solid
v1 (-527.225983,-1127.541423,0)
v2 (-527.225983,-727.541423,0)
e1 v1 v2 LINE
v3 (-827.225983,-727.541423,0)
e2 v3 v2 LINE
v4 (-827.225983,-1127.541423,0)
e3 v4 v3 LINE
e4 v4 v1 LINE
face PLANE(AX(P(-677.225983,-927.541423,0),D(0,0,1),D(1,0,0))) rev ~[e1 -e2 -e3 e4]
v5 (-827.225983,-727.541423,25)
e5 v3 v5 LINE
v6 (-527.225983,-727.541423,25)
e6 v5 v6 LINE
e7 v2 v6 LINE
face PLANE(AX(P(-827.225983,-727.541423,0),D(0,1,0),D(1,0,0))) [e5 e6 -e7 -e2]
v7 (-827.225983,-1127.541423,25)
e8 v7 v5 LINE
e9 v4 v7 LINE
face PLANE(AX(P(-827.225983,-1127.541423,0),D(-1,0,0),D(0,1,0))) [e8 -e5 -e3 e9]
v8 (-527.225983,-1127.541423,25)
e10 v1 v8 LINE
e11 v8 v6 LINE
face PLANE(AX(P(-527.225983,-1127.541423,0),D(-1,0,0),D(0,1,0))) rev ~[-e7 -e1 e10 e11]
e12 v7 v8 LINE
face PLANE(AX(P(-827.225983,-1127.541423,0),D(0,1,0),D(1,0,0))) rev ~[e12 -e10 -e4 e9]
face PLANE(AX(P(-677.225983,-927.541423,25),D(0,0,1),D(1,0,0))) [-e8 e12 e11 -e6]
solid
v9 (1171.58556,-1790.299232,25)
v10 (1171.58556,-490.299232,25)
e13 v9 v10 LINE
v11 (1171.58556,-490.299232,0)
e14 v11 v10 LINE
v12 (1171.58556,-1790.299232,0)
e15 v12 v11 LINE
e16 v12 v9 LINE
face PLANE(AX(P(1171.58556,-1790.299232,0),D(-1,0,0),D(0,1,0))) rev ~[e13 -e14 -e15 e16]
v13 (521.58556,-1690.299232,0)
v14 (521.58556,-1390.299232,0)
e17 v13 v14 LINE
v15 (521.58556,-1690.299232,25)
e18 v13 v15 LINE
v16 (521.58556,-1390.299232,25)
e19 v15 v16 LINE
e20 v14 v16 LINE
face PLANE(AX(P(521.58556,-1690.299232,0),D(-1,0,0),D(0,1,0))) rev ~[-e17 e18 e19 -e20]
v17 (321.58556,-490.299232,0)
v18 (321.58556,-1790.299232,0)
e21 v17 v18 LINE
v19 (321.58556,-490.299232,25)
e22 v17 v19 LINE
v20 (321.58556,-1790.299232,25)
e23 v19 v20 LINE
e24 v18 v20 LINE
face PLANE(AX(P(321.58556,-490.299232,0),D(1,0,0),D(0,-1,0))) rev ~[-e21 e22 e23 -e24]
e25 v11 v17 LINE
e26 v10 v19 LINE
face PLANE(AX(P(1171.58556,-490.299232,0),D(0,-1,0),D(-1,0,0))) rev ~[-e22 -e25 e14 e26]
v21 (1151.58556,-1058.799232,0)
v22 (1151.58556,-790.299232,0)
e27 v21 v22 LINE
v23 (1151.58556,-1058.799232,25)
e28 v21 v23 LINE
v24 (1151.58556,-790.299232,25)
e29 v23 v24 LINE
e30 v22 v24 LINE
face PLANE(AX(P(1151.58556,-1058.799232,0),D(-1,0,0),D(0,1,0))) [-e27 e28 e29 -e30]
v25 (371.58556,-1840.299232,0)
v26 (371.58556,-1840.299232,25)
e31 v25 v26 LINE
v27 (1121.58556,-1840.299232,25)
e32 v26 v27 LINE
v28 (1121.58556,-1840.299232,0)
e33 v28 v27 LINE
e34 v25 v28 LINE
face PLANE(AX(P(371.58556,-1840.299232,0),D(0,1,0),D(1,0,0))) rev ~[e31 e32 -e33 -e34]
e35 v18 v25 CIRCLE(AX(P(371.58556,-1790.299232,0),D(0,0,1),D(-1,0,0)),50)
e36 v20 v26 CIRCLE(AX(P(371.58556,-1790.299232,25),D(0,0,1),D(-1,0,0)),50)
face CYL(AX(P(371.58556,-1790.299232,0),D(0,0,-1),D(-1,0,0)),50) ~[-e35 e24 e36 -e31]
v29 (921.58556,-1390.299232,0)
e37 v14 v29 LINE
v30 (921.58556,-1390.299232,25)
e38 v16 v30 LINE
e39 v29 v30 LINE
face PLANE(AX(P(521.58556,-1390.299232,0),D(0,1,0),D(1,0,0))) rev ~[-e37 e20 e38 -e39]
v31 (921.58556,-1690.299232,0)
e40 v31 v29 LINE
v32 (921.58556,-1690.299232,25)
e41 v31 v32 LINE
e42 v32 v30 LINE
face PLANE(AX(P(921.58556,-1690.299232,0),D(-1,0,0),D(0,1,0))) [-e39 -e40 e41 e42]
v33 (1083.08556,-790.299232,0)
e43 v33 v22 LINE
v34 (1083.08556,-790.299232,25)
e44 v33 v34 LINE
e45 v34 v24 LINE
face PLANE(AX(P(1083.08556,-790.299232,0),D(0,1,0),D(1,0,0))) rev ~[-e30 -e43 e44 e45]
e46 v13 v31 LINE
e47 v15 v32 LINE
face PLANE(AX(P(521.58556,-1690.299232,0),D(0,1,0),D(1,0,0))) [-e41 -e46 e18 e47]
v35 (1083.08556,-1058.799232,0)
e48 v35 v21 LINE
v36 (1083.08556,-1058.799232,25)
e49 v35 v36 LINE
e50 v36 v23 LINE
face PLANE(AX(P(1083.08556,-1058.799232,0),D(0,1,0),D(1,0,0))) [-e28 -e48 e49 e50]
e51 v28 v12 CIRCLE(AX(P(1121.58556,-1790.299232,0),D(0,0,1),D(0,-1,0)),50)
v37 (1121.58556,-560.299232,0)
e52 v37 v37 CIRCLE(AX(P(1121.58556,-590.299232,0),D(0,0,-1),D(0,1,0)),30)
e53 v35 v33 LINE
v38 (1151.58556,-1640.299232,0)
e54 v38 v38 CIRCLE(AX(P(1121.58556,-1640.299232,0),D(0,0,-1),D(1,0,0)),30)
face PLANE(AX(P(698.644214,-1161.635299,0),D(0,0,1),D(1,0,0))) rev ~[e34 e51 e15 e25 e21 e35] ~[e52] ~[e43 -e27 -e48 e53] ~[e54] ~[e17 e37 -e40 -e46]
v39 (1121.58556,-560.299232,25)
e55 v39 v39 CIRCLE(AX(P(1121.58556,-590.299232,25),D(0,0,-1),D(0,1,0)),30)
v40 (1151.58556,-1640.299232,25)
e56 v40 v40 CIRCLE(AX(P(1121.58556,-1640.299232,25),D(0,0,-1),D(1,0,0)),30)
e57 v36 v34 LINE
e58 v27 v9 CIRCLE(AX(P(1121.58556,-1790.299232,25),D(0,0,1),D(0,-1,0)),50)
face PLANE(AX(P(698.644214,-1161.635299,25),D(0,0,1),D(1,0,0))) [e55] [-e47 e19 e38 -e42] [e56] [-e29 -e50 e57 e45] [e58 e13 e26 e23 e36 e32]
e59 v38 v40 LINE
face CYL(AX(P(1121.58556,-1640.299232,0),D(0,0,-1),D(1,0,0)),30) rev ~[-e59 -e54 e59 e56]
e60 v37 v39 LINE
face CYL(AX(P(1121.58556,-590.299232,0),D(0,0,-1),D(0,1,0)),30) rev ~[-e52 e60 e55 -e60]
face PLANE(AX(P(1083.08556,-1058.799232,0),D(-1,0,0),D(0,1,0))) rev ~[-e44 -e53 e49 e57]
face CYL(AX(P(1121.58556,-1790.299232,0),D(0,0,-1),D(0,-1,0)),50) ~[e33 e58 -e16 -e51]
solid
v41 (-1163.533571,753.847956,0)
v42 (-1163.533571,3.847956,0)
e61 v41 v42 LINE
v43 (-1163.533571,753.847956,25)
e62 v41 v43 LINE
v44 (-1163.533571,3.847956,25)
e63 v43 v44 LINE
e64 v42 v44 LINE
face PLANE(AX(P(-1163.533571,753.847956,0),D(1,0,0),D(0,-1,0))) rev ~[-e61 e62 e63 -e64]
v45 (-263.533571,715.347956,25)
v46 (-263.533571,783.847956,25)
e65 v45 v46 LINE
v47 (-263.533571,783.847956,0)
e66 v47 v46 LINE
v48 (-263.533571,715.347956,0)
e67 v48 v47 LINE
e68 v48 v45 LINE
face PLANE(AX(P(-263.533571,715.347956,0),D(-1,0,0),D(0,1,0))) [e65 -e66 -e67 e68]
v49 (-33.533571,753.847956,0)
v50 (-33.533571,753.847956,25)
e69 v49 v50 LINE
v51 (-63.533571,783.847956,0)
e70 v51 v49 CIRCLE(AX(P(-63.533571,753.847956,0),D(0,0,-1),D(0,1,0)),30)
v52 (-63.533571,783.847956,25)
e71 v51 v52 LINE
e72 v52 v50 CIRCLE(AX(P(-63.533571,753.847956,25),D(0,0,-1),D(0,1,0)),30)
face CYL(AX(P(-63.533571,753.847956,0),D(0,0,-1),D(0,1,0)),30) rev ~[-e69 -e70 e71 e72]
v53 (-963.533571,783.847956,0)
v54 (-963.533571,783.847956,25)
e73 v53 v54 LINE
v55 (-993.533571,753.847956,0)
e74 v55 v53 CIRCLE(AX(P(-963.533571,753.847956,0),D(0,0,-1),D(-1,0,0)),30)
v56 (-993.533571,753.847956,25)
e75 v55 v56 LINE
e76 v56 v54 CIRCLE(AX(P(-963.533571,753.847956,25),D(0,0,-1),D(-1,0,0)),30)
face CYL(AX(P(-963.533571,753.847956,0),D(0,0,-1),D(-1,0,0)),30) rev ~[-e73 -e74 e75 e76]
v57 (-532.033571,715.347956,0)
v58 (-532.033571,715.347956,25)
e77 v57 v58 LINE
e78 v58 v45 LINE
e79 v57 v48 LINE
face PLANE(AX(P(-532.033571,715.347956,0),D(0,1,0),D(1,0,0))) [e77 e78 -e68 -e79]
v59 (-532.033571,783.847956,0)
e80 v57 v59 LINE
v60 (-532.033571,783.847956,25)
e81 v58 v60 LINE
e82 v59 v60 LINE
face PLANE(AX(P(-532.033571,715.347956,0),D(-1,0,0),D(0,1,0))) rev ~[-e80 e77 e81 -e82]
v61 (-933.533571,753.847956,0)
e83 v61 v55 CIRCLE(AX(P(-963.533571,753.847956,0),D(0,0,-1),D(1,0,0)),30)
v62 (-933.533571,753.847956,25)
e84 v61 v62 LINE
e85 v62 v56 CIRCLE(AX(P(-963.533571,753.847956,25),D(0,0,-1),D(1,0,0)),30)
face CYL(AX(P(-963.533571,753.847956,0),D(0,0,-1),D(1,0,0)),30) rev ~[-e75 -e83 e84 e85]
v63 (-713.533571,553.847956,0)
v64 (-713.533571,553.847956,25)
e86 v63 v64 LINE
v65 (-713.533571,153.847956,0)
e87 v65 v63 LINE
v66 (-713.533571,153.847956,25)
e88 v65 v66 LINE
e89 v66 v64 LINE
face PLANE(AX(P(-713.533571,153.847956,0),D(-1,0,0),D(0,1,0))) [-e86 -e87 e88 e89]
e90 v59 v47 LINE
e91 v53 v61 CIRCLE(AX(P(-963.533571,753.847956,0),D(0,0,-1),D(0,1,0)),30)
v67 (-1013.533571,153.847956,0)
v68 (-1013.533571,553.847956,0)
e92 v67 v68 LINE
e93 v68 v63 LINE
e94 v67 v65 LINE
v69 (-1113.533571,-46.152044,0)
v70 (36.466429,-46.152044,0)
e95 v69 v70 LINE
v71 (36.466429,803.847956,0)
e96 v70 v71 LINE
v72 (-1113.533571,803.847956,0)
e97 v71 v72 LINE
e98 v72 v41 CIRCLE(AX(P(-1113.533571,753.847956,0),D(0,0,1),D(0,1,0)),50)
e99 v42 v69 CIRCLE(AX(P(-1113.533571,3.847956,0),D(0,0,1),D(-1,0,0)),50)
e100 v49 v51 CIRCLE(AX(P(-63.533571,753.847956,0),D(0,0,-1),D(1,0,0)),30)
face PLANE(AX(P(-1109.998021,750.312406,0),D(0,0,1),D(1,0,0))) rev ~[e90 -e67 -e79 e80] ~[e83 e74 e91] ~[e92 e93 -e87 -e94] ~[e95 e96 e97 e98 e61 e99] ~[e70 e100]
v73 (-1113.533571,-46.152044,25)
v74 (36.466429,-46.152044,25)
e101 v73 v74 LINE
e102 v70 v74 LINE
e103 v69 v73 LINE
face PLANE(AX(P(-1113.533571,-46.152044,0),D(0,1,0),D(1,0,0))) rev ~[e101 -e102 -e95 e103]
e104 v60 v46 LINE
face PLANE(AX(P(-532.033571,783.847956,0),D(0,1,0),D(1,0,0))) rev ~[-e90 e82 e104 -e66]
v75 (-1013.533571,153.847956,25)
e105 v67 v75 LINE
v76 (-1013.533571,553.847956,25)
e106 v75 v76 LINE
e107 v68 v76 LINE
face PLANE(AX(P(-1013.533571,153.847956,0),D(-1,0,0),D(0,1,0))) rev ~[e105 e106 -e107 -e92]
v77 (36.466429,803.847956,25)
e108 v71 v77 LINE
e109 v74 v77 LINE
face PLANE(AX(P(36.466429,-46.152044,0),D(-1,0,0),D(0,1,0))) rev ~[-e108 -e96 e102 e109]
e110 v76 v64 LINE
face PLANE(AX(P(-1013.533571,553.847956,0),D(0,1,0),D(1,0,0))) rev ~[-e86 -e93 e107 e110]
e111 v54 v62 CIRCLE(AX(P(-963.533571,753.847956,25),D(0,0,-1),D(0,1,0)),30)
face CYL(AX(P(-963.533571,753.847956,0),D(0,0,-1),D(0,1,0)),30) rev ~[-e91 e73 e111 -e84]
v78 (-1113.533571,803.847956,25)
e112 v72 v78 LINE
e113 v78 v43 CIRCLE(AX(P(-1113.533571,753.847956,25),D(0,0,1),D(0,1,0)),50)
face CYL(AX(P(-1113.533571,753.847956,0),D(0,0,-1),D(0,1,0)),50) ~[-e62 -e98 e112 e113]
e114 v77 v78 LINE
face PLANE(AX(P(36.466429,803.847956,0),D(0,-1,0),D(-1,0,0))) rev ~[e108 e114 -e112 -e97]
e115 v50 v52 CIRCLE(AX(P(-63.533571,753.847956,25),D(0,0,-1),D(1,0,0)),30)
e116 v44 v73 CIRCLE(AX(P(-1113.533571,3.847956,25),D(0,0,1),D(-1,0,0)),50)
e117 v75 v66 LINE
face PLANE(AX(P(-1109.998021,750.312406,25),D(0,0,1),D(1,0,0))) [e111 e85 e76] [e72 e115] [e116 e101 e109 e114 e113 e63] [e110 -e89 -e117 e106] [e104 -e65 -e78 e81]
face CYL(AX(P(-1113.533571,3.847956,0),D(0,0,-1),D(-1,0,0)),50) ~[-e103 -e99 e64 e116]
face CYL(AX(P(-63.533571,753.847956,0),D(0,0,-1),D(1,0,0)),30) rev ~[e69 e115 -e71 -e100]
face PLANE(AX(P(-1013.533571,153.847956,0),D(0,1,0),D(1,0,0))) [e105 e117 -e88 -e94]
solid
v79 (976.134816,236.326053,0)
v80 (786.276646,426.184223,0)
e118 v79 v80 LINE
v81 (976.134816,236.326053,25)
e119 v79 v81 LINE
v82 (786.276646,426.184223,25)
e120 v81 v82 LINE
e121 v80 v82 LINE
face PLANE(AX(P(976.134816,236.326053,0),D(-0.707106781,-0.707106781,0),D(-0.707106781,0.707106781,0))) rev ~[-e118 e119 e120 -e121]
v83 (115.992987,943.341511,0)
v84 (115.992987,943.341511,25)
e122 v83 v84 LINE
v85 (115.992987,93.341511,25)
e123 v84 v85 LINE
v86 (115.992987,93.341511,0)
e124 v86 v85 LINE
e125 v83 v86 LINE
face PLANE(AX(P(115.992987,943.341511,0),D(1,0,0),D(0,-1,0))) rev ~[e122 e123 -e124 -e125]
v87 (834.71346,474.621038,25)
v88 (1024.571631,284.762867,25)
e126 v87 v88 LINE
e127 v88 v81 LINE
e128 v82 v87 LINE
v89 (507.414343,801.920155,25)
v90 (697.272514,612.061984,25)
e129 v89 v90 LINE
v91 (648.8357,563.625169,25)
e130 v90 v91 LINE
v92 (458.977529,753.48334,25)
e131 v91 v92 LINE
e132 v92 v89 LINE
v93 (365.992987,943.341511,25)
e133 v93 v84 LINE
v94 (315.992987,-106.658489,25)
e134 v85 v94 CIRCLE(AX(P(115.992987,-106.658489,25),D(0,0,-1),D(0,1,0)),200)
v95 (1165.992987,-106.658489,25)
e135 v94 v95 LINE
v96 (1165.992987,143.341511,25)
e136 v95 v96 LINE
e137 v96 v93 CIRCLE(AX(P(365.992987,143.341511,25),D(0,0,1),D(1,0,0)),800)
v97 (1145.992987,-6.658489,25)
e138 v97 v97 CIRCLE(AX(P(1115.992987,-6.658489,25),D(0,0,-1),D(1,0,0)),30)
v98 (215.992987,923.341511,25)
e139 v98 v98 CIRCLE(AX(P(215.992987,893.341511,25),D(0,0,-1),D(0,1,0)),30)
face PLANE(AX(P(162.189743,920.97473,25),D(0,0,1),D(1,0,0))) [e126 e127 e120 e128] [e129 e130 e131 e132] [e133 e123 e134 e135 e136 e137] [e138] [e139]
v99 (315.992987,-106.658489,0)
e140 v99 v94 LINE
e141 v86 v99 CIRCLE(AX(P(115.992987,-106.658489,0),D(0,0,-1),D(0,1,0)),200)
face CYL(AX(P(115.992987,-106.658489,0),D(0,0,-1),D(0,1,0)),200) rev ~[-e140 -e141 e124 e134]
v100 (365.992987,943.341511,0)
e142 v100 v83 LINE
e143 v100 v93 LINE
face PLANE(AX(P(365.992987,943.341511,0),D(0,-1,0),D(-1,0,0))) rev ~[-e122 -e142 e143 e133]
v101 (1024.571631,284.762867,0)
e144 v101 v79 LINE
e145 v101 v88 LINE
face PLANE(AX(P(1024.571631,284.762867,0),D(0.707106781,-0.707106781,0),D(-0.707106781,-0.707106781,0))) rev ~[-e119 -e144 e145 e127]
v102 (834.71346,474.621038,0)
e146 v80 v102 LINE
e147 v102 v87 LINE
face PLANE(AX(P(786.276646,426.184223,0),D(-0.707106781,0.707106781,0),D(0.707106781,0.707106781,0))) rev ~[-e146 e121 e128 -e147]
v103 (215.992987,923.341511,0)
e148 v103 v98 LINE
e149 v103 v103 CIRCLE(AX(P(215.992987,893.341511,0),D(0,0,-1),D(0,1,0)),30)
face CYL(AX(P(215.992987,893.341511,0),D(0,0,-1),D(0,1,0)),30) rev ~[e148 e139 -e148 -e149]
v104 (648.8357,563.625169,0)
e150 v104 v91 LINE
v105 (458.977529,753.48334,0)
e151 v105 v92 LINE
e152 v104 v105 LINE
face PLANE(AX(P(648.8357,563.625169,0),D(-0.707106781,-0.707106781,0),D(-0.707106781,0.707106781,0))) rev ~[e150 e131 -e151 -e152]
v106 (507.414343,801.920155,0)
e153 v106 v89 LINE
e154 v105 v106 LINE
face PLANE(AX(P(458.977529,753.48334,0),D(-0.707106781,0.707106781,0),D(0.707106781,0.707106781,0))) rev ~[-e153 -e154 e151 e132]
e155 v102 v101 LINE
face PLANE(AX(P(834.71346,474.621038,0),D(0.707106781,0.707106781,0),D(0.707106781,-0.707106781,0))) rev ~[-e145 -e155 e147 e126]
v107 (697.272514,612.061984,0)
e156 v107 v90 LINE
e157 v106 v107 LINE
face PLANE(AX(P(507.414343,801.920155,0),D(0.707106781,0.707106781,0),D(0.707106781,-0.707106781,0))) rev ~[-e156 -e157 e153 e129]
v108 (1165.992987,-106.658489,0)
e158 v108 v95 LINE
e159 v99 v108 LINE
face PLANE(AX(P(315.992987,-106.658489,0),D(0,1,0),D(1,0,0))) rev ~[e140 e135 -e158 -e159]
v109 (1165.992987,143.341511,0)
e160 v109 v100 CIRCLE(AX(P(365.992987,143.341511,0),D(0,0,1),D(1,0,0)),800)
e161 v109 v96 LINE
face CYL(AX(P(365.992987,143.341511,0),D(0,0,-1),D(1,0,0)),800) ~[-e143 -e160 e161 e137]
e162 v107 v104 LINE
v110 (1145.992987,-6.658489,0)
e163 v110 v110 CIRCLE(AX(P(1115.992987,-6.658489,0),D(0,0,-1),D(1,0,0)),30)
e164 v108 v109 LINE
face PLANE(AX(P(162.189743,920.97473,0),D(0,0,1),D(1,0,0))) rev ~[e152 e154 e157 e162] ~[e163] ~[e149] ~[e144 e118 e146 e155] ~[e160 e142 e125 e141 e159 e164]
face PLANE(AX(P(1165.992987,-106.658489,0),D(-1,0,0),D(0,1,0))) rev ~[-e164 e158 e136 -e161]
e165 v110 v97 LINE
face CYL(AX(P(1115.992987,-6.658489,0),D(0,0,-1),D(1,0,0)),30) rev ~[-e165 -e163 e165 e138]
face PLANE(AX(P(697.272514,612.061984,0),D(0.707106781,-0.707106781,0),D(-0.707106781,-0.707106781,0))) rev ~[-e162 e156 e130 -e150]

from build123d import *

# Parameters (mm, degrees)
F0_W     = 268.5
F0_H     = 68.5
F0_W_2   = 300
F0_H_2   = 400
F1_DEPTH = 25
F0_W_3   = 400
F0_H_3   = 300
F0_W_4   = 68.5
F0_H_4   = 268.5


with BuildPart() as f1:
    # F0 (on Top) → F1 (new body)
    with BuildSketch(Plane.XY):
        with BuildLine():
            Line((-1063.5335713625, 803.8479559124), (-1113.5335713625, 803.8479559124))
            ThreePointArc((-1113.5335713625, 803.8479559124), (-1148.8889104218, 789.2032949717), (-1163.5335713625, 753.8479559124))
            Line((-1163.5335713625, 753.8479559124), (-1163.5335713625, 703.8479559124))
            Line((-1163.5335713625, 703.8479559124), (-1063.5335713625, 703.8479559124))
            Line((-1063.5335713625, 703.8479559124), (-1063.5335713625, 753.8479559124))
            Line((-1063.5335713625, 753.8479559124), (-1063.5335713625, 803.8479559124))
        make_face()
        with BuildLine():
            Line((-963.5335713625, 803.8479559124), (-1063.5335713625, 803.8479559124))
            Line((-1063.5335713625, 803.8479559124), (-1063.5335713625, 753.8479559124))
            Line((-1063.5335713625, 753.8479559124), (-993.5335713625, 753.8479559124))
            ThreePointArc((-993.5335713625, 753.8479559124), (-984.7467747981, 775.0611593479), (-963.5335713625, 783.8479559124))
            Line((-963.5335713625, 783.8479559124), (-963.5335713625, 803.8479559124))
        make_face()
        with BuildLine():
            Line((-63.5335713625, 803.8479559124), (-963.5335713625, 803.8479559124))
            Line((-963.5335713625, 803.8479559124), (-963.5335713625, 783.8479559124))
            ThreePointArc((-963.5335713625, 783.8479559124), (-942.3203679269, 775.0611593479), (-933.5335713625, 753.8479559124))
            ThreePointArc((-933.5335713625, 753.8479559124), (-963.5335713625, 723.8479559124), (-993.5335713625, 753.8479559124))
            Line((-993.5335713625, 753.8479559124), (-1063.5335713625, 753.8479559124))
            Line((-1063.5335713625, 753.8479559124), (-1063.5335713625, 703.8479559124))
            Line((-1063.5335713625, 703.8479559124), (36.4664286375, 703.8479559124))
            Line((36.4664286375, 703.8479559124), (36.4664286375, 753.8479559124))
            Line((36.4664286375, 753.8479559124), (-33.5335713625, 753.8479559124))
            ThreePointArc((-33.5335713625, 753.8479559124), (-84.7467747981, 732.6347524768), (-63.5335713625, 783.8479559124))
            Line((-63.5335713625, 783.8479559124), (-63.5335713625, 803.8479559124))
        make_face()
        with Locations((-397.7835713625, 749.5979559124)):
            Rectangle(F0_W, F0_H, mode=Mode.SUBTRACT)
        with BuildLine():
            Line((-1063.5335713625, 703.8479559124), (-1163.5335713625, 703.8479559124))
            Line((-1163.5335713625, 703.8479559124), (-1163.5335713625, 3.8479559124))
            ThreePointArc((-1163.5335713625, 3.8479559124), (-1148.8889104218, -31.507383147), (-1113.5335713625, -46.1520440876))
            Line((-1113.5335713625, -46.1520440876), (36.4664286375, -46.1520440876))
            Line((36.4664286375, -46.1520440876), (36.4664286375, 703.8479559124))
            Line((36.4664286375, 703.8479559124), (-1063.5335713625, 703.8479559124))
        make_face()
        with Locations((-863.5335713625, 353.8479559124)):
            Rectangle(F0_W_2, F0_H_2, mode=Mode.SUBTRACT)
        with BuildLine():
            Line((36.4664286375, 803.8479559124), (-63.5335713625, 803.8479559124))
            Line((-63.5335713625, 803.8479559124), (-63.5335713625, 783.8479559124))
            ThreePointArc((-63.5335713625, 783.8479559124), (-42.3203679269, 775.0611593479), (-33.5335713625, 753.8479559124))
            Line((-33.5335713625, 753.8479559124), (36.4664286375, 753.8479559124))
            Line((36.4664286375, 753.8479559124), (36.4664286375, 803.8479559124))
        make_face()
    extrude(amount=F1_DEPTH)


with BuildPart() as f1b:
    # F0 (on Top) → F1, piece 2 (new body)
    with BuildSketch(Plane.XY):
        with BuildLine():
            Line((215.9929871559, 943.3415107838), (115.9929871559, 943.3415107838))
            Line((115.9929871559, 943.3415107838), (115.9929871559, 893.3415107838))
            Line((115.9929871559, 893.3415107838), (185.9929871559, 893.3415107838))
            ThreePointArc((185.9929871559, 893.3415107838), (194.7797837203, 914.5547142194), (215.9929871559, 923.3415107838))
            Line((215.9929871559, 923.3415107838), (215.9929871559, 943.3415107838))
        make_face()
        with BuildLine():
            Line((365.9929871559, 943.3415107838), (215.9929871559, 943.3415107838))
            Line((215.9929871559, 943.3415107838), (215.9929871559, 923.3415107838))
            ThreePointArc((215.9929871559, 923.3415107838), (237.2061905915, 914.5547142194), (245.9929871559, 893.3415107838))
            ThreePointArc((245.9929871559, 893.3415107838), (215.9929871559, 863.3415107838), (185.9929871559, 893.3415107838))
            Line((185.9929871559, 893.3415107838), (115.9929871559, 893.3415107838))
            Line((115.9929871559, 893.3415107838), (115.9929871559, 843.3415107838))
            Line((115.9929871559, 843.3415107838), (365.9929871559, 843.3415107838))
            Line((365.9929871559, 843.3415107838), (365.9929871559, 943.3415107838))
        make_face()
        with BuildLine():
            Line((474.4453924136, 834.8891055261), (365.9929871559, 943.3415107838))
            Line((365.9929871559, 943.3415107838), (365.9929871559, 843.3415107838))
            ThreePointArc((365.9929871559, 843.3415107838), (420.3836282645, 841.2252103784), (474.4453924136, 834.8891055261))
        make_face()
        with BuildLine():
            ThreePointArc((1165.9929871559, 143.3415107838), (931.6784121052, 709.026935733), (365.9929871559, 943.3415107838))
            Line((365.9929871559, 943.3415107838), (474.4453924136, 834.8891055261))
            ThreePointArc((474.4453924136, 834.8891055261), (860.9677339865, 638.3162576144), (1057.5405818982, 251.7939160415))
            Line((1057.5405818982, 251.7939160415), (1165.9929871559, 143.3415107838))
        make_face()
        with BuildLine():
            Line((365.9929871559, 843.3415107838), (115.9929871559, 843.3415107838))
            Line((115.9929871559, 843.3415107838), (115.9929871559, 93.3415107838))
            ThreePointArc((115.9929871559, 93.3415107838), (257.4143433932, 34.7628670211), (315.9929871559, -106.6584892162))
            Line((315.9929871559, -106.6584892162), (365.8921290354, -106.6584892162))
            Line((365.8921290354, -106.6584892162), (1065.9929871559, -106.6584892162))
            Line((1065.9929871559, -106.6584892162), (1065.9929871559, 143.3415107838))
            ThreePointArc((1065.9929871559, 143.3415107838), (1063.8766867505, 197.7321518924), (1057.5405818982, 251.7939160415))
            Line((1057.5405818982, 251.7939160415), (1024.5716309186, 284.7628670211))
            Line((1024.5716309186, 284.7628670211), (976.1348164073, 236.3260525098))
            Line((976.1348164073, 236.3260525098), (786.2766456587, 426.1842232584))
            Line((786.2766456587, 426.1842232584), (834.71346017, 474.6210377697))
            Line((834.71346017, 474.6210377697), (697.2725141418, 612.0619837979))
            Line((697.2725141418, 612.0619837979), (648.8356996305, 563.6251692866))
            Line((648.8356996305, 563.6251692866), (458.9775288819, 753.4833400352))
            Line((458.9775288819, 753.4833400352), (507.4143433932, 801.9201545465))
            Line((507.4143433932, 801.9201545465), (474.4453924136, 834.8891055261))
            ThreePointArc((474.4453924136, 834.8891055261), (420.3836282645, 841.2252103784), (365.9929871559, 843.3415107838))
        make_face()
        with BuildLine():
            Line((1165.9929871559, -6.6584892162), (1165.9929871559, 143.3415107838))
            Line((1165.9929871559, 143.3415107838), (1065.9929871559, 143.3415107838))
            Line((1065.9929871559, 143.3415107838), (1065.9929871559, -106.6584892162))
            Line((1065.9929871559, -106.6584892162), (1115.9929871559, -106.6584892162))
            Line((1115.9929871559, -106.6584892162), (1115.9929871559, -36.6584892162))
            ThreePointArc((1115.9929871559, -36.6584892162), (1094.7797837203, 14.5547142194), (1145.9929871559, -6.6584892162))
            Line((1145.9929871559, -6.6584892162), (1165.9929871559, -6.6584892162))
        make_face()
        with BuildLine():
            Line((1065.9929871559, 143.3415107838), (1165.9929871559, 143.3415107838))
            Line((1165.9929871559, 143.3415107838), (1057.5405818982, 251.7939160415))
            ThreePointArc((1057.5405818982, 251.7939160415), (1063.8766867505, 197.7321518924), (1065.9929871559, 143.3415107838))
        make_face()
        with BuildLine():
            Line((1165.9929871559, -106.6584892162), (1165.9929871559, -6.6584892162))
            Line((1165.9929871559, -6.6584892162), (1145.9929871559, -6.6584892162))
            ThreePointArc((1145.9929871559, -6.6584892162), (1137.2061905915, -27.8716926518), (1115.9929871559, -36.6584892162))
            Line((1115.9929871559, -36.6584892162), (1115.9929871559, -106.6584892162))
            Line((1115.9929871559, -106.6584892162), (1165.9929871559, -106.6584892162))
        make_face()
        with BuildLine():
            ThreePointArc((1057.5405818982, 251.7939160415), (860.9677339865, 638.3162576144), (474.4453924136, 834.8891055261))
            Line((474.4453924136, 834.8891055261), (507.4143433932, 801.9201545465))
            Line((507.4143433932, 801.9201545465), (697.2725141418, 612.0619837979))
            Line((697.2725141418, 612.0619837979), (834.71346017, 474.6210377697))
            Line((834.71346017, 474.6210377697), (1024.5716309186, 284.7628670211))
            Line((1024.5716309186, 284.7628670211), (1057.5405818982, 251.7939160415))
        make_face()
    extrude(amount=F1_DEPTH)


with BuildPart() as f1c:
    # F0 (on Top) → F1, piece 3 (new body)
    with BuildSketch(Plane.XY):
        with BuildLine():
            Line((1071.585559845, -490.2992320061), (321.585559845, -490.2992320061))
            Line((321.585559845, -490.2992320061), (321.585559845, -1790.2992320061))
            ThreePointArc((321.585559845, -1790.2992320061), (336.2302207856, -1825.6545710654), (371.585559845, -1840.2992320061))
            Line((371.585559845, -1840.2992320061), (1071.585559845, -1840.2992320061))
            Line((1071.585559845, -1840.2992320061), (1071.585559845, -1740.2992320061))
            Line((1071.585559845, -1740.2992320061), (1071.585559845, -490.2992320061))
        make_face()
        with Locations((721.585559845, -1540.2992320061)):
            Rectangle(F0_W_3, F0_H_3, mode=Mode.SUBTRACT)
        with BuildLine():
            Line((1121.585559845, -490.2992320061), (1071.585559845, -490.2992320061))
            Line((1071.585559845, -490.2992320061), (1071.585559845, -1740.2992320061))
            Line((1071.585559845, -1740.2992320061), (1121.585559845, -1740.2992320061))
            Line((1121.585559845, -1740.2992320061), (1121.585559845, -1670.2992320061))
            ThreePointArc((1121.585559845, -1670.2992320061), (1100.3723564094, -1619.0860285705), (1151.585559845, -1640.2992320061))
            Line((1151.585559845, -1640.2992320061), (1171.585559845, -1640.2992320061))
            Line((1171.585559845, -1640.2992320061), (1171.585559845, -590.2992320061))
            Line((1171.585559845, -590.2992320061), (1151.585559845, -590.2992320061))
            ThreePointArc((1151.585559845, -590.2992320061), (1100.3723564094, -611.5124354417), (1121.585559845, -560.2992320061))
            Line((1121.585559845, -560.2992320061), (1121.585559845, -490.2992320061))
        make_face()
        with Locations((1117.335559845, -924.5492320061)):
            Rectangle(F0_W_4, F0_H_4, mode=Mode.SUBTRACT)
        with BuildLine():
            Line((1171.585559845, -490.2992320061), (1121.585559845, -490.2992320061))
            Line((1121.585559845, -490.2992320061), (1121.585559845, -560.2992320061))
            ThreePointArc((1121.585559845, -560.2992320061), (1142.7987632806, -569.0860285705), (1151.585559845, -590.2992320061))
            Line((1151.585559845, -590.2992320061), (1171.585559845, -590.2992320061))
            Line((1171.585559845, -590.2992320061), (1171.585559845, -490.2992320061))
        make_face()
        with BuildLine():
            Line((1121.585559845, -1740.2992320061), (1071.585559845, -1740.2992320061))
            Line((1071.585559845, -1740.2992320061), (1071.585559845, -1840.2992320061))
            Line((1071.585559845, -1840.2992320061), (1121.585559845, -1840.2992320061))
            ThreePointArc((1121.585559845, -1840.2992320061), (1156.9408989043, -1825.6545710654), (1171.585559845, -1790.2992320061))
            Line((1171.585559845, -1790.2992320061), (1171.585559845, -1740.2992320061))
            Line((1171.585559845, -1740.2992320061), (1121.585559845, -1740.2992320061))
        make_face()
        with BuildLine():
            Line((1121.585559845, -1670.2992320061), (1121.585559845, -1740.2992320061))
            Line((1121.585559845, -1740.2992320061), (1171.585559845, -1740.2992320061))
            Line((1171.585559845, -1740.2992320061), (1171.585559845, -1640.2992320061))
            Line((1171.585559845, -1640.2992320061), (1151.585559845, -1640.2992320061))
            ThreePointArc((1151.585559845, -1640.2992320061), (1142.7987632806, -1661.5124354417), (1121.585559845, -1670.2992320061))
        make_face()
    extrude(amount=F1_DEPTH)


with BuildPart() as f1d:
    # F0 (on Top) → F1, piece 4 (new body)
    with BuildSketch(Plane.XY):
        with Locations((-677.2259831429, -927.5414228439)):
            Rectangle(F0_W_2, F0_H_2)
    extrude(amount=F1_DEPTH)


solid = Compound([f1.part, f1b.part, f1c.part, f1d.part])
